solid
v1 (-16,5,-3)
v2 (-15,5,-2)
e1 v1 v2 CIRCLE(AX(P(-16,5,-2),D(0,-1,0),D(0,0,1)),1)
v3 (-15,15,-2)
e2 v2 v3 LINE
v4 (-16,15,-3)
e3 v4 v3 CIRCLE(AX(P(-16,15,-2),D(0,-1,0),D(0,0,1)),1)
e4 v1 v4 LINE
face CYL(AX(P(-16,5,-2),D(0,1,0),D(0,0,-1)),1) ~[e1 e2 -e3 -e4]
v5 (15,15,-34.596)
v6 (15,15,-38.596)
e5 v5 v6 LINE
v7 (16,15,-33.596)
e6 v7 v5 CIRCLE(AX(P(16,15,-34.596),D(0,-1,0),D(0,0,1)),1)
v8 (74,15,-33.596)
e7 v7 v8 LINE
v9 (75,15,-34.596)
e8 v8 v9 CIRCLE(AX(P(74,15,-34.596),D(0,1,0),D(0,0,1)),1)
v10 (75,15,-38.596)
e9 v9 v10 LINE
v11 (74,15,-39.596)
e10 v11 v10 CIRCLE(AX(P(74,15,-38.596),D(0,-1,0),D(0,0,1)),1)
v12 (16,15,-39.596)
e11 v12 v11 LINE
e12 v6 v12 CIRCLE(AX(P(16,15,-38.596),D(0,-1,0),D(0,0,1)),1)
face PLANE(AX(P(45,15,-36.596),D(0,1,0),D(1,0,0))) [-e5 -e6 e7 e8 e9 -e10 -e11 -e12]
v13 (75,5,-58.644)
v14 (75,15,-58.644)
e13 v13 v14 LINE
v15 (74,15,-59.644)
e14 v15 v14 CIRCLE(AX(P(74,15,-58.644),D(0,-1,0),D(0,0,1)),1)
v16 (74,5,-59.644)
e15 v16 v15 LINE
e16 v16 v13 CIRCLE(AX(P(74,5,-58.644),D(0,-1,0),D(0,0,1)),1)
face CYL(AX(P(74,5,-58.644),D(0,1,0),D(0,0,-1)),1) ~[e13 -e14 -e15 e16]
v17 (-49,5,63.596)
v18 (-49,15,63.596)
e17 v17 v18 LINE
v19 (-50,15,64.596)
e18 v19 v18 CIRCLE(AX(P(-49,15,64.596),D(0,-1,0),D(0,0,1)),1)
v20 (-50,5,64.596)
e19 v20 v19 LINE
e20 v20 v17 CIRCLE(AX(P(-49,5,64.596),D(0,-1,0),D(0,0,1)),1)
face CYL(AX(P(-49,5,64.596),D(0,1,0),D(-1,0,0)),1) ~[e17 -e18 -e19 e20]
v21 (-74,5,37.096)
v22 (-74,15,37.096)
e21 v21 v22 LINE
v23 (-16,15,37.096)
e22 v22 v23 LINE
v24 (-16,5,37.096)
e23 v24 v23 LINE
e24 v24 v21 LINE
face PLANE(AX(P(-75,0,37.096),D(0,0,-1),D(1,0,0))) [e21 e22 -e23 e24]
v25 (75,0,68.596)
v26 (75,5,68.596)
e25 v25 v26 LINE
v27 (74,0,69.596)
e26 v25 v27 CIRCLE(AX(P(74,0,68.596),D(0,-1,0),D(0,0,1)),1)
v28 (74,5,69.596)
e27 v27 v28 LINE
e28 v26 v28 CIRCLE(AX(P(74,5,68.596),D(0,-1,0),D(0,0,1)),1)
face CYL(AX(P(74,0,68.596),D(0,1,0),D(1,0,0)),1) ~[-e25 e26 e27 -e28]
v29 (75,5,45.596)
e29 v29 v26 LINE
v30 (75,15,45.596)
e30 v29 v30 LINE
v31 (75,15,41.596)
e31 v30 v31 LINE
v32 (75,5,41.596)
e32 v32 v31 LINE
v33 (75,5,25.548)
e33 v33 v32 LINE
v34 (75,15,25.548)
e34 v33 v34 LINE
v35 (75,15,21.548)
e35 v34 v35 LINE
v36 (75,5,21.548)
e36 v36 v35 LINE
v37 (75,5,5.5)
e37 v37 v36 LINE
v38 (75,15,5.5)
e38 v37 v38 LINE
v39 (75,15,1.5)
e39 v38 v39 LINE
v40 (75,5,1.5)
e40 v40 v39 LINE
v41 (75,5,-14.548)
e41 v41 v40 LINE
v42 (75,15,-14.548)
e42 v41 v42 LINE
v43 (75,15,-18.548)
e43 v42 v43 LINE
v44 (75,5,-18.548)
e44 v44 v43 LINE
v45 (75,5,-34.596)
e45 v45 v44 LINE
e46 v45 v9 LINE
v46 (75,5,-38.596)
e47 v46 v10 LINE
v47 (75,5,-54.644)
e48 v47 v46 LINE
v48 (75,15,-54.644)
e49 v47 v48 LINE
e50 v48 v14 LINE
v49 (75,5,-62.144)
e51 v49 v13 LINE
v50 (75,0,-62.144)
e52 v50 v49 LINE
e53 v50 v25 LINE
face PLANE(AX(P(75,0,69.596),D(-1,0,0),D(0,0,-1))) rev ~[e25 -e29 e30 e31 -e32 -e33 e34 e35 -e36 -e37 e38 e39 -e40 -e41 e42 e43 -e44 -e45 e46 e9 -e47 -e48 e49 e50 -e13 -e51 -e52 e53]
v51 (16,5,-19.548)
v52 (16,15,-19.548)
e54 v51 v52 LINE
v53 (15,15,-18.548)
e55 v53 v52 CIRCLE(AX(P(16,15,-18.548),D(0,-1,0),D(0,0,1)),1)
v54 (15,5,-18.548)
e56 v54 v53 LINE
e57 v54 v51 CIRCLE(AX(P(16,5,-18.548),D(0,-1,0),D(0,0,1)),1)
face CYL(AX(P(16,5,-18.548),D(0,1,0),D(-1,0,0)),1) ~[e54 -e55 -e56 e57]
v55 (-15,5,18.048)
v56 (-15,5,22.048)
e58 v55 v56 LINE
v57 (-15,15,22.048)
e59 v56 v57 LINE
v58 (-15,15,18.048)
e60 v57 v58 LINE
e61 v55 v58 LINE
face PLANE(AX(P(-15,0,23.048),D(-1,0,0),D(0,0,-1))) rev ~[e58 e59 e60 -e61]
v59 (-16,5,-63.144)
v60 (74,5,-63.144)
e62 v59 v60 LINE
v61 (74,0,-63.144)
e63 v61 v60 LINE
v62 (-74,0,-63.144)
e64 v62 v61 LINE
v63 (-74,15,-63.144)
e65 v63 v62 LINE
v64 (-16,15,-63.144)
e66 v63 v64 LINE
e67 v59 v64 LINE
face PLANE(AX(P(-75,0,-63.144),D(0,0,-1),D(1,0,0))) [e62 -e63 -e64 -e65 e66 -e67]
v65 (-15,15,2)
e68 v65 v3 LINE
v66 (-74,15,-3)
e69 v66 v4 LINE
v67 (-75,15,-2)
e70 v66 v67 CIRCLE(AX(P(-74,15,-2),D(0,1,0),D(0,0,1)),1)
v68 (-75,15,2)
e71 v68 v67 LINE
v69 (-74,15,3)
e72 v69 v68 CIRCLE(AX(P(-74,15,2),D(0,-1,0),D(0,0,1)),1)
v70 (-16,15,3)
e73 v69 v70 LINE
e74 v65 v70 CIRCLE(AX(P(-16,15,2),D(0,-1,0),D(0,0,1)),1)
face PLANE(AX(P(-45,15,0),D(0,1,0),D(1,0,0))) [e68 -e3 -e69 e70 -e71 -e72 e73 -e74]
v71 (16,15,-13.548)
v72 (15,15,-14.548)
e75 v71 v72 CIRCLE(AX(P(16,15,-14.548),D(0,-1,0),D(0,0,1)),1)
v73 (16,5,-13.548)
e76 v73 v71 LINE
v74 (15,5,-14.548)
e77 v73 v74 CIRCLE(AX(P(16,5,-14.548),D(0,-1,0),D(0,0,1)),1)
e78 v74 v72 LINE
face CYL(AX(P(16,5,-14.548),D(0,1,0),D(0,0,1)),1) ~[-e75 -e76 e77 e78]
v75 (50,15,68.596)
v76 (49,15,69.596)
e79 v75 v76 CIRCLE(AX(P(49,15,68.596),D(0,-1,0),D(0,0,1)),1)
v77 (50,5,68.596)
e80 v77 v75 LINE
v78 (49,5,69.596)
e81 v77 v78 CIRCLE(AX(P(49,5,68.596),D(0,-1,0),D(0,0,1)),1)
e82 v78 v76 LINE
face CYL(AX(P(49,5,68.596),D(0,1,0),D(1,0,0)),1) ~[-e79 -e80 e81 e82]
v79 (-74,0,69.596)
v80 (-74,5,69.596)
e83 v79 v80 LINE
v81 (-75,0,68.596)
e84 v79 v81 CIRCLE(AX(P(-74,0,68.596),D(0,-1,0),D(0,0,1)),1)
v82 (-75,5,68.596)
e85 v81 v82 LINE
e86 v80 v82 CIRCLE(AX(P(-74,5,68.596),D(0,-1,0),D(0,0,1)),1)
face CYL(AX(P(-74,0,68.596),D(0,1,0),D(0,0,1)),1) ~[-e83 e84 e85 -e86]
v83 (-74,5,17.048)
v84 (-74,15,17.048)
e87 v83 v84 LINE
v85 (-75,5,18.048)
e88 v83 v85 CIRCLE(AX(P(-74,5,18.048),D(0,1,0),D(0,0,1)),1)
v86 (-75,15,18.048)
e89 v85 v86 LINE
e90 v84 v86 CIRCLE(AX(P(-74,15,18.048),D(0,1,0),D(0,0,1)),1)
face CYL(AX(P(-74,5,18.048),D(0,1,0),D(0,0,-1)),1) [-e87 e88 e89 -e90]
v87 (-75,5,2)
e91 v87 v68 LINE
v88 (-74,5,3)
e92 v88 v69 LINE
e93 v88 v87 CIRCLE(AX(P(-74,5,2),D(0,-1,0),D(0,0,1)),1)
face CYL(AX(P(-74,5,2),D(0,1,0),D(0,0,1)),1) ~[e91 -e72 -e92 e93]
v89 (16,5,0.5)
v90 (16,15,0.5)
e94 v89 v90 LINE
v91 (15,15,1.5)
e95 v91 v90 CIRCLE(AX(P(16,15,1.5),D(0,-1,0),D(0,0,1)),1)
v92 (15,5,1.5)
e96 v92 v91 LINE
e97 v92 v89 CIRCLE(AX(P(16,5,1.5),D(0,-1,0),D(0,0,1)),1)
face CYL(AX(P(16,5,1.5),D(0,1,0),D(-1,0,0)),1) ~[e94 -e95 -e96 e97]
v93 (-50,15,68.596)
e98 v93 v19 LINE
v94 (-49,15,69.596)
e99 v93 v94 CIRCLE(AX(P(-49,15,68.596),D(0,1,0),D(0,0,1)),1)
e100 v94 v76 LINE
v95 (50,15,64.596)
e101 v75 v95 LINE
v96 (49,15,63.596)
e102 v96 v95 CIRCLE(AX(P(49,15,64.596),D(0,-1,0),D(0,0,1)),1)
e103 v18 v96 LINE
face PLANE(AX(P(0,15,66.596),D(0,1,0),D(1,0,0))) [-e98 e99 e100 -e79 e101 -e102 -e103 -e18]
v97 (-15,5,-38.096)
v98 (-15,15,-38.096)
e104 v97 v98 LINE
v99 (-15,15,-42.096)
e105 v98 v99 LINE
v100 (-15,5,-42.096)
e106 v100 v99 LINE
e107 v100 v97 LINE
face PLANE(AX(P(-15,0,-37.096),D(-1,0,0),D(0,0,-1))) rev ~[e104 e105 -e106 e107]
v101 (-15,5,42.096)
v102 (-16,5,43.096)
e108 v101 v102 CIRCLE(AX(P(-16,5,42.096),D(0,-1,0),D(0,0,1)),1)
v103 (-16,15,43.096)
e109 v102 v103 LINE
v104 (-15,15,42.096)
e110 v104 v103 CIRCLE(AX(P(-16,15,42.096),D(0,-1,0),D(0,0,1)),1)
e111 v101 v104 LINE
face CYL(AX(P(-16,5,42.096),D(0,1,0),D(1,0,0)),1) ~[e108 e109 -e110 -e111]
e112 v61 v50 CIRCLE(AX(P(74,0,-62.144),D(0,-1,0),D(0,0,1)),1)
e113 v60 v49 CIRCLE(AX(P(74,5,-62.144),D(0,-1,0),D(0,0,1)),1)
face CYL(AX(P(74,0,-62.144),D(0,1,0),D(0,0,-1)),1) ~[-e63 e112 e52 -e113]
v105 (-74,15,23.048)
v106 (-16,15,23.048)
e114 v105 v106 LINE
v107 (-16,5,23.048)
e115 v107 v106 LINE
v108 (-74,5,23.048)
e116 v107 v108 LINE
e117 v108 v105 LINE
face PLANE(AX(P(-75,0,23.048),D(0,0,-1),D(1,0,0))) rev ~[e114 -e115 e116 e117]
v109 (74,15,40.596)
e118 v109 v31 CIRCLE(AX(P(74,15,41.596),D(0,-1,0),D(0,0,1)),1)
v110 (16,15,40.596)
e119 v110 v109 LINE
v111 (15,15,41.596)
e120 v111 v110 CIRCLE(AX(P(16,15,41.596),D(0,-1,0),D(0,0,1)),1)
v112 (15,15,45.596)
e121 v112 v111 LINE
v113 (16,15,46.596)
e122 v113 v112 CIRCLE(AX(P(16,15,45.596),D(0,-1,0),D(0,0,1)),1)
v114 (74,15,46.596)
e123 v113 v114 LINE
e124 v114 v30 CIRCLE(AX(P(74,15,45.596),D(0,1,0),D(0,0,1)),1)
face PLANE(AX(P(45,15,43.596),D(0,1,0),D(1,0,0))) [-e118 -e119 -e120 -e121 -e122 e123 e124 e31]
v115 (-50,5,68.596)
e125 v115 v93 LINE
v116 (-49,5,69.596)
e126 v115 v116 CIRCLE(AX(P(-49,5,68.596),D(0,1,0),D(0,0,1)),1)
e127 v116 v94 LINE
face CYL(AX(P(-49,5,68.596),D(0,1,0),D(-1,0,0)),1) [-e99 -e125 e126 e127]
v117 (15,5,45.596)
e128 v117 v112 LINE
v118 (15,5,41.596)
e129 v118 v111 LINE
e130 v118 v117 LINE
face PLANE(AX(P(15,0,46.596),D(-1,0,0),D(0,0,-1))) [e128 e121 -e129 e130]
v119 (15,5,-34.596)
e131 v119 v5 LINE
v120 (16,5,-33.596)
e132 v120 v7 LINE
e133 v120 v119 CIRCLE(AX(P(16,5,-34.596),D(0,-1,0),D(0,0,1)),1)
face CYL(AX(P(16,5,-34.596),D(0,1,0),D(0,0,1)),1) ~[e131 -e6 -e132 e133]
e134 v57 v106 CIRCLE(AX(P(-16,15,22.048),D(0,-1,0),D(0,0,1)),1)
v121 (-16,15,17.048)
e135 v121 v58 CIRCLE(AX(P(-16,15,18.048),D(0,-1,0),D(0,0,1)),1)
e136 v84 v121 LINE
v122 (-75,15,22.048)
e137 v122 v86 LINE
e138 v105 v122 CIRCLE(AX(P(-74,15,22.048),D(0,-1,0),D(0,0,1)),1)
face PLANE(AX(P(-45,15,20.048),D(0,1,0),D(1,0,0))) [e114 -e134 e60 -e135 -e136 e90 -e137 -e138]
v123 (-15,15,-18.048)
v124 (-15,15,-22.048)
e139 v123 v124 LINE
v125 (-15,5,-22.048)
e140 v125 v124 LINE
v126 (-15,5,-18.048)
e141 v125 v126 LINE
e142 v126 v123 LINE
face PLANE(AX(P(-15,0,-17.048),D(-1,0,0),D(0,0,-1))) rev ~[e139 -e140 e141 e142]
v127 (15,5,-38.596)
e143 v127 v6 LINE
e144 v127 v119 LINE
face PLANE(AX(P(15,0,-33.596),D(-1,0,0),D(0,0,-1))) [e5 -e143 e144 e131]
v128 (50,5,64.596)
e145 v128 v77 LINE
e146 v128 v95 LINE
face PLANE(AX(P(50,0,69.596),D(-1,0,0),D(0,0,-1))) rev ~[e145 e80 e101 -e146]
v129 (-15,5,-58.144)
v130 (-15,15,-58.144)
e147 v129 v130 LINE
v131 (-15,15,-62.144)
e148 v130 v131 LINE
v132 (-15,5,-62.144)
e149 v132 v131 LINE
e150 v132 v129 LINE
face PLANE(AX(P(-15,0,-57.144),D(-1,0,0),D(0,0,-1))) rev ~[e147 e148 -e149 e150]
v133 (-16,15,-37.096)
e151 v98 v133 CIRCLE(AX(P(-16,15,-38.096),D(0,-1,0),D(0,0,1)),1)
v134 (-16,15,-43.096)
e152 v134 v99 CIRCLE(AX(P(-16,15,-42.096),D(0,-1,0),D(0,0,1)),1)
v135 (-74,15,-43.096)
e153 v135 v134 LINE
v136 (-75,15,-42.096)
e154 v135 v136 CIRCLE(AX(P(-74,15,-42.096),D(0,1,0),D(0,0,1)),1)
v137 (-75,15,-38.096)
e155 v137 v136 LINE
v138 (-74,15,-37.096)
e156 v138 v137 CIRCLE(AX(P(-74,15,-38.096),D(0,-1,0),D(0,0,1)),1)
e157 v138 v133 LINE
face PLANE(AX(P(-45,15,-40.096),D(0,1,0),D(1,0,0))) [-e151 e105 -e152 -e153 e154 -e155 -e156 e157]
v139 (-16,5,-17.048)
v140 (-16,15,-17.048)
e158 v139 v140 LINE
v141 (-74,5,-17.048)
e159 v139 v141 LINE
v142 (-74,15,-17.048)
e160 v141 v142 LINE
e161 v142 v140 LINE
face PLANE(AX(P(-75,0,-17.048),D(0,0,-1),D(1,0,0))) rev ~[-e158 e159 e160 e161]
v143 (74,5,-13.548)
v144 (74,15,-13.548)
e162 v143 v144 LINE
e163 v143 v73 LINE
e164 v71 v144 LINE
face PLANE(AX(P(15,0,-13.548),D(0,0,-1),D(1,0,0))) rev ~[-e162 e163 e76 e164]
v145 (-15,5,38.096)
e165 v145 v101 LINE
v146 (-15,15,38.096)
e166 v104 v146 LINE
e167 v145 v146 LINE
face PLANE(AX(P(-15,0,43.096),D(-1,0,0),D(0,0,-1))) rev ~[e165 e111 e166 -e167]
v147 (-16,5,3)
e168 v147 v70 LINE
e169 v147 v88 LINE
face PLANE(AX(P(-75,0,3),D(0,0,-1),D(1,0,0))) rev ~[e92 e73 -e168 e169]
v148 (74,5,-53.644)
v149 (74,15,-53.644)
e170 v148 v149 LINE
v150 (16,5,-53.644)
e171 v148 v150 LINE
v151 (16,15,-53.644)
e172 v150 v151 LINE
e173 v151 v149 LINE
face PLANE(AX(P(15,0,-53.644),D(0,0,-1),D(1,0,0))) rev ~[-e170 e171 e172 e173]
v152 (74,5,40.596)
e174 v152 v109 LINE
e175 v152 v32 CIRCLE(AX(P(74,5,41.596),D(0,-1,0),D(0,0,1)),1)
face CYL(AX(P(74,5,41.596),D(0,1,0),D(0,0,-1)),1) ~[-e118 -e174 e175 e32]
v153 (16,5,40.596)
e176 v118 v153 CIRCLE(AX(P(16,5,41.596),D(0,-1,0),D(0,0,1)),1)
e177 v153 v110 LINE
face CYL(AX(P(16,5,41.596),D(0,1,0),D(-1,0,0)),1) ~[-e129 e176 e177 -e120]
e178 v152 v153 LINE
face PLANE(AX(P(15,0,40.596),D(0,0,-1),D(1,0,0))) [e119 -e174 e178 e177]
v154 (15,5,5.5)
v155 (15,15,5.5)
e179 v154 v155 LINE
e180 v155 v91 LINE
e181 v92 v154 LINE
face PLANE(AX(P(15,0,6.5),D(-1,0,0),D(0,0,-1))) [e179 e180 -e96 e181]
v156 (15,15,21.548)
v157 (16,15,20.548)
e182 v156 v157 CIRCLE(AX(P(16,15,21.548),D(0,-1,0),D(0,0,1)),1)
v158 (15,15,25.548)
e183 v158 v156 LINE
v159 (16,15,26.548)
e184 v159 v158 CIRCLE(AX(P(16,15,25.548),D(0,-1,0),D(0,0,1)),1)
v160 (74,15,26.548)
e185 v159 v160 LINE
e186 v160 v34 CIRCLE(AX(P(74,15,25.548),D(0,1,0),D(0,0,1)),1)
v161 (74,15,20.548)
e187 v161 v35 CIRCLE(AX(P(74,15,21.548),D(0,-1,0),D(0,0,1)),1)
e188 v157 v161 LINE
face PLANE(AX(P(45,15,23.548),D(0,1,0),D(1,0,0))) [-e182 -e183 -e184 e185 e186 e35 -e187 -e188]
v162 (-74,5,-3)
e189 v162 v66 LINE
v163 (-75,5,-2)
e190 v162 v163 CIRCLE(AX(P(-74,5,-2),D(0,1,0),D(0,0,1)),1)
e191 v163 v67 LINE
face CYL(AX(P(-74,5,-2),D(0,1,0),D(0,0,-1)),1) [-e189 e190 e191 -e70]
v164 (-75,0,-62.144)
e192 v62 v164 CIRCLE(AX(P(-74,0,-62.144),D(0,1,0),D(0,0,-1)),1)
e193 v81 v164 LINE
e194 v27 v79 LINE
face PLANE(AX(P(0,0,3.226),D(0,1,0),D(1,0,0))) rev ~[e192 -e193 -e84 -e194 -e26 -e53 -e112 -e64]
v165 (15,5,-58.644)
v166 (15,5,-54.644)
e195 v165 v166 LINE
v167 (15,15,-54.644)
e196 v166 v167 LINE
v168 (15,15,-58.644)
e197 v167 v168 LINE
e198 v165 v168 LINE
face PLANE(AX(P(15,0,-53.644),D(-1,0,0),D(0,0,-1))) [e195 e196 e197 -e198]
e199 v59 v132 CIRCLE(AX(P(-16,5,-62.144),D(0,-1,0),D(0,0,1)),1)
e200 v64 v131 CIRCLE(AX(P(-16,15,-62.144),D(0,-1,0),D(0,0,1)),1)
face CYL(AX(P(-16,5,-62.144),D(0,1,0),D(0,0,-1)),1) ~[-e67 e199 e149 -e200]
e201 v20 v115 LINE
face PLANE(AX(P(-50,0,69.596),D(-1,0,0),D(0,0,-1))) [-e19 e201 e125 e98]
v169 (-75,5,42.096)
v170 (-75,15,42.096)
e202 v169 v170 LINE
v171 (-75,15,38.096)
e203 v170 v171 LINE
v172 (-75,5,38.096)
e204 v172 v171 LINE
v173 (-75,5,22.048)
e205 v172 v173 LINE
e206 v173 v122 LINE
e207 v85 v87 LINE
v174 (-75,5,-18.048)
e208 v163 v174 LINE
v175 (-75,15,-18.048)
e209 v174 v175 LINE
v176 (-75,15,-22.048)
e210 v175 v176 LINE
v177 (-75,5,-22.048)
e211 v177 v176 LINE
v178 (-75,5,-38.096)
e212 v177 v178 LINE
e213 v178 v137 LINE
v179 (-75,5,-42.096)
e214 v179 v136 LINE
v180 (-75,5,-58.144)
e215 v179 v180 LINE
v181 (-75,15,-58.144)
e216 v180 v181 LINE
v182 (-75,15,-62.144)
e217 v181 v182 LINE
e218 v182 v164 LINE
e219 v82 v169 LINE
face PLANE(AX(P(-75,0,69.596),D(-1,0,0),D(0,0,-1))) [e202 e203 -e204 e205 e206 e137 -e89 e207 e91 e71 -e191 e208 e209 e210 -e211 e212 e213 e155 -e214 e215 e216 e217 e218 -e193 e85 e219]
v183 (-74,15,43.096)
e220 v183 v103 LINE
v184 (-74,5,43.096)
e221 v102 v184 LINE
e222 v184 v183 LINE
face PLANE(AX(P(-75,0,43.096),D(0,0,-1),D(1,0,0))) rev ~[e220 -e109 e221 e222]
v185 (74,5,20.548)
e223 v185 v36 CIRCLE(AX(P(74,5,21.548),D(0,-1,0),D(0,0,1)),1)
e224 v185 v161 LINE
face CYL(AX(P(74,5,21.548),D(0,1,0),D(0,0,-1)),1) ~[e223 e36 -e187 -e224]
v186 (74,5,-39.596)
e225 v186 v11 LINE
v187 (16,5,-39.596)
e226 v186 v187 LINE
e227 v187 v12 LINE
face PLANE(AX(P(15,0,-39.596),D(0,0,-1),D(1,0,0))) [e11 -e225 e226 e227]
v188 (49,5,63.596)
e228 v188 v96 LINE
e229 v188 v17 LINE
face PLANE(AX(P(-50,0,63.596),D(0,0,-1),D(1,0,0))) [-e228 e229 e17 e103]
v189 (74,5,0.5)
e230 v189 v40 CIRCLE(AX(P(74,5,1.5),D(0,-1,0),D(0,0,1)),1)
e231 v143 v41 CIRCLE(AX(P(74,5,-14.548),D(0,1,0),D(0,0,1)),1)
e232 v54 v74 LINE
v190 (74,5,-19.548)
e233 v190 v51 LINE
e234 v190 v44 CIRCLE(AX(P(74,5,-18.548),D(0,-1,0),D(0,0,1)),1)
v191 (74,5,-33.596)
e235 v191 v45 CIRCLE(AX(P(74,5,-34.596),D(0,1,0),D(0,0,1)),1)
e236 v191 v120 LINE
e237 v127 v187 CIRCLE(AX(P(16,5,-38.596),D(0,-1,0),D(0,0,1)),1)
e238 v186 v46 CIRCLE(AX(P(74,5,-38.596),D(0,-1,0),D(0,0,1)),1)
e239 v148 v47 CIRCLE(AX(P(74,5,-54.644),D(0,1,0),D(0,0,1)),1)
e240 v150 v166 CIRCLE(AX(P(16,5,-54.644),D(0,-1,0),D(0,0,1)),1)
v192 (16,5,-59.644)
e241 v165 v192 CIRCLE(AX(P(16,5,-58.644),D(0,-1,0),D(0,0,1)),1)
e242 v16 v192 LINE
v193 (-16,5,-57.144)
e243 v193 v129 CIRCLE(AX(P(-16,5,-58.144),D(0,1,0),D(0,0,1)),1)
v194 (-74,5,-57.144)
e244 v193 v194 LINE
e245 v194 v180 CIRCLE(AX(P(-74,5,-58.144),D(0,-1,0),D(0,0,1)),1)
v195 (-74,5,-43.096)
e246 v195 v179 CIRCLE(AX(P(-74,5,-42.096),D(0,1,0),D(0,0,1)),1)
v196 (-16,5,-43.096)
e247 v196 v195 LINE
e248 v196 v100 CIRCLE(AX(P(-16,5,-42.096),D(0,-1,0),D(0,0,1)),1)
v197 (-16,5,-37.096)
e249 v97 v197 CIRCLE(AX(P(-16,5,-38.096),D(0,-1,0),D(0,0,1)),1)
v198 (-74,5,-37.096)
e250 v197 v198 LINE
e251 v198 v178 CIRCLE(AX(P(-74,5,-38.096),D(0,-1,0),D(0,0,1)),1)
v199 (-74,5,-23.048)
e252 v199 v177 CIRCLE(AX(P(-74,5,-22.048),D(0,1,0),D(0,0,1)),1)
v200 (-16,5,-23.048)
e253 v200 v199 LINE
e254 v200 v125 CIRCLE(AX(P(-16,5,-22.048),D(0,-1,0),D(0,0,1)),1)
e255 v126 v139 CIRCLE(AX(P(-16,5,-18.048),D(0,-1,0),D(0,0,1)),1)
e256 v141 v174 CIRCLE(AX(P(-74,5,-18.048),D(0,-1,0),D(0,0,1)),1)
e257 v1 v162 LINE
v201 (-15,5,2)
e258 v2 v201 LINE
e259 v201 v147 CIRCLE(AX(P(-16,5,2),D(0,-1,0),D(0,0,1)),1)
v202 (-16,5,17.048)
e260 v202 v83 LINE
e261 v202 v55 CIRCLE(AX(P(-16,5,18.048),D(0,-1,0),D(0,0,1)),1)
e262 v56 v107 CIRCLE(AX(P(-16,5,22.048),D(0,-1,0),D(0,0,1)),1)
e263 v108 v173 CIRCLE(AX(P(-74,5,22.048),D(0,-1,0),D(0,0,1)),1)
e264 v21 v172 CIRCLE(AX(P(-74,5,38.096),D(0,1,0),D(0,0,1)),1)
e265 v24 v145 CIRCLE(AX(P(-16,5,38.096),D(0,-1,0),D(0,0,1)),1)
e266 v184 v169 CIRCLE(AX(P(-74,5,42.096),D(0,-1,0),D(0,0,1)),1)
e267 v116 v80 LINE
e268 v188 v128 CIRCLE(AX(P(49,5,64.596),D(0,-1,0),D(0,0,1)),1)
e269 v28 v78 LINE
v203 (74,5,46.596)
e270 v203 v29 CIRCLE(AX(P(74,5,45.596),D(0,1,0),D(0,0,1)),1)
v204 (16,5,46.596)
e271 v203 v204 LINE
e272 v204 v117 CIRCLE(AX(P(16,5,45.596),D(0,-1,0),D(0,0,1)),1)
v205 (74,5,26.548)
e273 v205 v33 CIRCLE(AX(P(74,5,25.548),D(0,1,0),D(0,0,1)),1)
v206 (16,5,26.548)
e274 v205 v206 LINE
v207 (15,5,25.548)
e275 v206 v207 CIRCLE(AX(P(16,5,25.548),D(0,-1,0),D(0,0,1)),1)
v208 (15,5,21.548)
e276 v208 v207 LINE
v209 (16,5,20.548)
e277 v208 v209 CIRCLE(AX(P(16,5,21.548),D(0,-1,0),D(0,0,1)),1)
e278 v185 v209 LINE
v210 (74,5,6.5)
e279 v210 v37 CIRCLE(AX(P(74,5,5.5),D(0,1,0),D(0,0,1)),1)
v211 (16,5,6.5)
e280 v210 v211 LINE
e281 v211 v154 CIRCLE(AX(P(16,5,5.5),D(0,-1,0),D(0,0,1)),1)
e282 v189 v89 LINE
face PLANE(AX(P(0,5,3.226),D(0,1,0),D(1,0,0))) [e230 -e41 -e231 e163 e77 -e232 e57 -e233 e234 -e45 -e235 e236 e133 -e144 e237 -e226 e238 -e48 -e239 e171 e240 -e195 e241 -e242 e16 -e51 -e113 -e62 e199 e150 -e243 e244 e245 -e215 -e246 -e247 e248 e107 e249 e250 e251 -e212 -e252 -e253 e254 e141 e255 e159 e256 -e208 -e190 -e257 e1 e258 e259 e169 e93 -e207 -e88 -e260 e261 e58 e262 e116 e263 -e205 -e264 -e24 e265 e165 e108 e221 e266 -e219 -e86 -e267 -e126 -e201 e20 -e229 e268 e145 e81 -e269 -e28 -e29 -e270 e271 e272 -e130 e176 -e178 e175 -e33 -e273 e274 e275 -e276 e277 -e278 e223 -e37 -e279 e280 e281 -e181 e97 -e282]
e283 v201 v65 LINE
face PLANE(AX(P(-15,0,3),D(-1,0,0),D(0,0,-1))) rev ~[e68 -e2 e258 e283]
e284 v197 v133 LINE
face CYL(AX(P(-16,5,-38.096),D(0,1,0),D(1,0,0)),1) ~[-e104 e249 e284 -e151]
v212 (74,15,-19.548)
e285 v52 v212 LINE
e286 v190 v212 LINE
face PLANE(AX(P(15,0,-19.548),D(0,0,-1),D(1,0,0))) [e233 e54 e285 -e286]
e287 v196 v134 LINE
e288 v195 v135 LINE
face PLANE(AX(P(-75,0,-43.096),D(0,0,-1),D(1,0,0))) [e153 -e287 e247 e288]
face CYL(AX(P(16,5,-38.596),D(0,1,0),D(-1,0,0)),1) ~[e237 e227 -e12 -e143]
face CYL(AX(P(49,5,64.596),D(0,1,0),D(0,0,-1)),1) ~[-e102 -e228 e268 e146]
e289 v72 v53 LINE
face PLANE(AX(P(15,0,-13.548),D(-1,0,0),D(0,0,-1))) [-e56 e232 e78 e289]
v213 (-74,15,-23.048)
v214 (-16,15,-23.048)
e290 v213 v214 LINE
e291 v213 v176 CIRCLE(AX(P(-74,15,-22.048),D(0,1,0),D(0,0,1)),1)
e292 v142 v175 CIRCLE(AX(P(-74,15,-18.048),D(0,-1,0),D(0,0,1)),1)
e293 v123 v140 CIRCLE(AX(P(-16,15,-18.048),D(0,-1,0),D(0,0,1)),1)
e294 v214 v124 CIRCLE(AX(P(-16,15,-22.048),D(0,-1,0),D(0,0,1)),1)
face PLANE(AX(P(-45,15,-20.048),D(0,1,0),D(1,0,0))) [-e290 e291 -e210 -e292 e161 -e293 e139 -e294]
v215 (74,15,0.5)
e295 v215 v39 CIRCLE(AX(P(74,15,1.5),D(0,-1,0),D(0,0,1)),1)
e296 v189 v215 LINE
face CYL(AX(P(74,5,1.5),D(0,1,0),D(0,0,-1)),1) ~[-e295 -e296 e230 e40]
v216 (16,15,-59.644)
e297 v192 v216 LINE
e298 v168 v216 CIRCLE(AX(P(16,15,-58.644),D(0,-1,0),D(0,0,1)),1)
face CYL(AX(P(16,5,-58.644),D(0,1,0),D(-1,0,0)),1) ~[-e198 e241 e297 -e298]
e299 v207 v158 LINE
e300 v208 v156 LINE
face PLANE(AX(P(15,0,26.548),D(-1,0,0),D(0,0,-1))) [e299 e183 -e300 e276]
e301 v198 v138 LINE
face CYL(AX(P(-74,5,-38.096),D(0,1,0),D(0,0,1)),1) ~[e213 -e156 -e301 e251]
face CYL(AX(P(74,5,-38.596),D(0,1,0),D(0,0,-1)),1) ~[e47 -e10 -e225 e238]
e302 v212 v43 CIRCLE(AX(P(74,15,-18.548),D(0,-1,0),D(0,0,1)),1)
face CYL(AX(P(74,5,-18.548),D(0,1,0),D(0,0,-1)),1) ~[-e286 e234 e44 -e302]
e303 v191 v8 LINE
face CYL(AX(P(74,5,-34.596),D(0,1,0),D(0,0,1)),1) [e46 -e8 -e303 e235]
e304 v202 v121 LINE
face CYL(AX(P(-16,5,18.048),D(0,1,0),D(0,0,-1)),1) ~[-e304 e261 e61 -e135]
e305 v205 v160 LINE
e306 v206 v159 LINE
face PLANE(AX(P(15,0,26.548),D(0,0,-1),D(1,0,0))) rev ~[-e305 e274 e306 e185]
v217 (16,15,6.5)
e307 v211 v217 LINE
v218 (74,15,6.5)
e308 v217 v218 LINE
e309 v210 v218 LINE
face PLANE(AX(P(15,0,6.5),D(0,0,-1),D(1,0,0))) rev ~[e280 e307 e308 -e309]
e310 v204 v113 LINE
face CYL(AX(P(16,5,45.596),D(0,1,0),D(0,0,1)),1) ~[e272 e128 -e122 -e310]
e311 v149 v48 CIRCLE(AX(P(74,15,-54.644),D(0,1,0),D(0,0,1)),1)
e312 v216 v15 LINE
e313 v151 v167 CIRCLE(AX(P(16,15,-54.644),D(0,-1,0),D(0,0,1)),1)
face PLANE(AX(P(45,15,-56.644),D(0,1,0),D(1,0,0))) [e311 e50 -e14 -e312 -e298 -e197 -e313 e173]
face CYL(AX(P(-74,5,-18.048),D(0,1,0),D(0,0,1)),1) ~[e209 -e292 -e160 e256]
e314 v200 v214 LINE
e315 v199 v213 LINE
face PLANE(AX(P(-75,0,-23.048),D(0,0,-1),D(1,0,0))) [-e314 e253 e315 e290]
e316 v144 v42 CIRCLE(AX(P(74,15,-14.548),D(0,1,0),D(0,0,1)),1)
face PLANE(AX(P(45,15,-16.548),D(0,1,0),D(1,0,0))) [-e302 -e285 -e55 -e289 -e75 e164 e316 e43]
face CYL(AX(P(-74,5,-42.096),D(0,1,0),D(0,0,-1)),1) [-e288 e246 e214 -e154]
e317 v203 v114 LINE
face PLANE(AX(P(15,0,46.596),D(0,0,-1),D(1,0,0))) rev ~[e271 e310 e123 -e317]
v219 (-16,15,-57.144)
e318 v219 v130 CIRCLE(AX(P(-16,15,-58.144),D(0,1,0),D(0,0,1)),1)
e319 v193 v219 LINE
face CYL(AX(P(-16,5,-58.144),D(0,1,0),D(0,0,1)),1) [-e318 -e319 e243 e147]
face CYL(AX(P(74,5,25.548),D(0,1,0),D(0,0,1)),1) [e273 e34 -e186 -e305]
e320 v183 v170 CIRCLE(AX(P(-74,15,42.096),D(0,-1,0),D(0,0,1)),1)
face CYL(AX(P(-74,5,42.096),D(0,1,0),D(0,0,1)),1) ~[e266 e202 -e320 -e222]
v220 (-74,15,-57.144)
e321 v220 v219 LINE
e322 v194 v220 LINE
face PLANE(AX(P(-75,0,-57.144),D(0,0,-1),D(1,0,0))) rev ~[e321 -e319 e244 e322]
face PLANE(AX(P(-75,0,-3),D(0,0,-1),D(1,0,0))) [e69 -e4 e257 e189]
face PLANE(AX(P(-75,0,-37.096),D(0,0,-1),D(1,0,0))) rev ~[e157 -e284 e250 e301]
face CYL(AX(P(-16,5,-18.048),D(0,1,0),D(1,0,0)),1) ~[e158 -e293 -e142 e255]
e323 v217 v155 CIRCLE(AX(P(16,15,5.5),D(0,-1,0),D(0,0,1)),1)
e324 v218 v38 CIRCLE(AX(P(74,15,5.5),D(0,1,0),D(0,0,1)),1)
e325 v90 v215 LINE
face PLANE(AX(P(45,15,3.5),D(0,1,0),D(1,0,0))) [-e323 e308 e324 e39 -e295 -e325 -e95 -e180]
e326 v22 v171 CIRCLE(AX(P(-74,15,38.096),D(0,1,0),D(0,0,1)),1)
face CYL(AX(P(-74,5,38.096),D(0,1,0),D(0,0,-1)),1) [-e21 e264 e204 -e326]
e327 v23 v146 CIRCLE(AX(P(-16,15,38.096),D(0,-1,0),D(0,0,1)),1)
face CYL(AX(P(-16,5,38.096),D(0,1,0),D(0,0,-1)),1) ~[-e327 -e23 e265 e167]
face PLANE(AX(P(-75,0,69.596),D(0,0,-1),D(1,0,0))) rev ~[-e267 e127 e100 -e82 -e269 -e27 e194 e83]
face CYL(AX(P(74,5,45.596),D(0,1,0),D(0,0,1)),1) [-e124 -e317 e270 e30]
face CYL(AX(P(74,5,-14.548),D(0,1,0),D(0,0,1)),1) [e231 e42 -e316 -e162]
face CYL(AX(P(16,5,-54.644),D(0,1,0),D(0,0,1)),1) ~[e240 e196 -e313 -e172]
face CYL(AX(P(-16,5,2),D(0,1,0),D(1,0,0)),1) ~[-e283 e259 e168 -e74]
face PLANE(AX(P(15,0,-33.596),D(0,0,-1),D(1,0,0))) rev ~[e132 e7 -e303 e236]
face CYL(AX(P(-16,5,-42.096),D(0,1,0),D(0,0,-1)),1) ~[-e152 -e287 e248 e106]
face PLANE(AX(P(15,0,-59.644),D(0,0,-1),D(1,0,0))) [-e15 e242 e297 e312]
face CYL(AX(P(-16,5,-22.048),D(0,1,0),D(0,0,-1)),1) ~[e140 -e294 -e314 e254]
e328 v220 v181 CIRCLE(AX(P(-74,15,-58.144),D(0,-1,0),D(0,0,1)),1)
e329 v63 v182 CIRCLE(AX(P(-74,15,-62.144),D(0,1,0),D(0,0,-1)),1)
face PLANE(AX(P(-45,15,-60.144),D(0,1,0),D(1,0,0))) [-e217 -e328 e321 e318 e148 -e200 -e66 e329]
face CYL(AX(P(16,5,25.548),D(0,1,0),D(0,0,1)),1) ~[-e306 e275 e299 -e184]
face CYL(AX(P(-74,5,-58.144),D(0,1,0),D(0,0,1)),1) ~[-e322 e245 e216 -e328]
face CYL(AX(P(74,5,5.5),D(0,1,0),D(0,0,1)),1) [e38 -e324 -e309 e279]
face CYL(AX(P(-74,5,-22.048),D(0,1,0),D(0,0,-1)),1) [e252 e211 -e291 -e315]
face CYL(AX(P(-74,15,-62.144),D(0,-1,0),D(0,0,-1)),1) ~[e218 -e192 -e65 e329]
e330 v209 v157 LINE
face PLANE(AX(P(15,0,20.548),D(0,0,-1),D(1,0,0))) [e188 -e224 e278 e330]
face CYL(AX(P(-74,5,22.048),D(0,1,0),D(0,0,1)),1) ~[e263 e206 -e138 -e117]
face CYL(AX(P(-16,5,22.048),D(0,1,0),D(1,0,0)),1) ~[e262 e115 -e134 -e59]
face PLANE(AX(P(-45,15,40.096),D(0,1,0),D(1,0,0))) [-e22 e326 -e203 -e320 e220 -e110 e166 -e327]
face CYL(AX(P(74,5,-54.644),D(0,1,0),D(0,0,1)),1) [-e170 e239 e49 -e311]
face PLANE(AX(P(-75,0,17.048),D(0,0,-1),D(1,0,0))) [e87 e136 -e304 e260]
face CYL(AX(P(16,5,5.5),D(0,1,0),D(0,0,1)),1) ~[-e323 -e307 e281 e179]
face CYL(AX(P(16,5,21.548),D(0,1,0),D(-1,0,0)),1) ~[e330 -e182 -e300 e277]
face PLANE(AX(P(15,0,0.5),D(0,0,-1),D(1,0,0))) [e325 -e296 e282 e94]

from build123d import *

# Parameters (mm, degrees)
SKETCH1_W           = 150
SKETCH1_H           = 132.74
BOSS_EXTRUDE1_DEPTH = 5
SKETCH1_3_W         = 60
SKETCH1_3_H         = 6
SKETCH1_3_W_2       = 100
BOSS_EXTRUDE2_DEPTH = 15
FILLET1_R           = 1


with BuildPart() as part:
    # Sketch1 → Boss-Extrude1 (new body)
    with BuildSketch(Plane(origin=(0, 0, 0), x_dir=(1, 0, 0), z_dir=(0, 1, 0))):
        with Locations((0, -3.226)):
            Rectangle(SKETCH1_W, SKETCH1_H)
    extrude(amount=BOSS_EXTRUDE1_DEPTH)

    # Sketch1_3 → Boss-Extrude2 (add)
    with BuildSketch(Plane(origin=(0, 0, 0), x_dir=(1, 0, 0), z_dir=(0, 1, 0))):
        with Locations((-45, 60.144)):
            Rectangle(SKETCH1_3_W, SKETCH1_3_H)
        with Locations((-45, 40.096)):
            Rectangle(SKETCH1_3_W, SKETCH1_3_H)
        with Locations((45, 56.644)):
            Rectangle(SKETCH1_3_W, SKETCH1_3_H)
        with Locations((-45, 20.048)):
            Rectangle(SKETCH1_3_W, SKETCH1_3_H)
        with Locations((45, 36.596)):
            Rectangle(SKETCH1_3_W, SKETCH1_3_H)
        with Locations((-45, 0)):
            Rectangle(SKETCH1_3_W, SKETCH1_3_H)
        with Locations((45, 16.548)):
            Rectangle(SKETCH1_3_W, SKETCH1_3_H)
        with Locations((-45, -20.048)):
            Rectangle(SKETCH1_3_W, SKETCH1_3_H)
        with Locations((45, -3.5)):
            Rectangle(SKETCH1_3_W, SKETCH1_3_H)
        with Locations((-45, -40.096)):
            Rectangle(SKETCH1_3_W, SKETCH1_3_H)
        with Locations((45, -23.548)):
            Rectangle(SKETCH1_3_W, SKETCH1_3_H)
        with Locations((0, -66.596)):
            Rectangle(SKETCH1_3_W_2, SKETCH1_3_H)
        with Locations((45, -43.596)):
            Rectangle(SKETCH1_3_W, SKETCH1_3_H)
    extrude(amount=BOSS_EXTRUDE2_DEPTH)

    # Fillet1
    fillet1_edges = [part.edges().sort_by_distance(p)[0] for p in [
        (-15, 10, -3),
        (-75, 10, -3),
        (-75, 10, 3),
        (-15, 10, 3),
        (-15, 10, -23.048),
        (-75, 10, -23.048),
        (-75, 10, -17.048),
        (-15, 10, -17.048),
        (75, 2.5, -63.144),
        (75, 2.5, 69.596),
        (-75, 2.5, 69.596),
        (-75, 7.5, -63.144),
        (-15, 10, -43.096),
        (-75, 10, -43.096),
        (-75, 10, -37.096),
        (-15, 10, -37.096),
        (-75, 10, -57.144),
        (-15, 10, -57.144),
        (-15, 10, -63.144),
        (75, 10, -59.644),
        (15, 10, -59.644),
        (15, 10, -53.644),
        (75, 10, -53.644),
        (75, 10, -39.596),
        (15, 10, -39.596),
        (15, 10, -33.596),
        (75, 10, -33.596),
        (75, 10, -19.548),
        (15, 10, -19.548),
        (15, 10, -13.548),
        (75, 10, -13.548),
        (75, 10, 0.5),
        (15, 10, 0.5),
        (15, 10, 6.5),
        (75, 10, 6.5),
        (75, 10, 20.548),
        (15, 10, 20.548),
        (15, 10, 26.548),
        (75, 10, 26.548),
        (75, 10, 40.596),
        (15, 10, 40.596),
        (15, 10, 46.596),
        (75, 10, 46.596),
        (50, 10, 63.596),
        (-50, 10, 63.596),
        (-50, 10, 69.596),
        (50, 10, 69.596),
        (-15, 10, 37.096),
        (-75, 10, 37.096),
        (-75, 10, 43.096),
        (-15, 10, 43.096),
        (-15, 10, 17.048),
        (-75, 10, 17.048),
        (-75, 10, 23.048),
        (-15, 10, 23.048),
    ]]
    fillet(fillet1_edges, radius=FILLET1_R)


solid = part.part
